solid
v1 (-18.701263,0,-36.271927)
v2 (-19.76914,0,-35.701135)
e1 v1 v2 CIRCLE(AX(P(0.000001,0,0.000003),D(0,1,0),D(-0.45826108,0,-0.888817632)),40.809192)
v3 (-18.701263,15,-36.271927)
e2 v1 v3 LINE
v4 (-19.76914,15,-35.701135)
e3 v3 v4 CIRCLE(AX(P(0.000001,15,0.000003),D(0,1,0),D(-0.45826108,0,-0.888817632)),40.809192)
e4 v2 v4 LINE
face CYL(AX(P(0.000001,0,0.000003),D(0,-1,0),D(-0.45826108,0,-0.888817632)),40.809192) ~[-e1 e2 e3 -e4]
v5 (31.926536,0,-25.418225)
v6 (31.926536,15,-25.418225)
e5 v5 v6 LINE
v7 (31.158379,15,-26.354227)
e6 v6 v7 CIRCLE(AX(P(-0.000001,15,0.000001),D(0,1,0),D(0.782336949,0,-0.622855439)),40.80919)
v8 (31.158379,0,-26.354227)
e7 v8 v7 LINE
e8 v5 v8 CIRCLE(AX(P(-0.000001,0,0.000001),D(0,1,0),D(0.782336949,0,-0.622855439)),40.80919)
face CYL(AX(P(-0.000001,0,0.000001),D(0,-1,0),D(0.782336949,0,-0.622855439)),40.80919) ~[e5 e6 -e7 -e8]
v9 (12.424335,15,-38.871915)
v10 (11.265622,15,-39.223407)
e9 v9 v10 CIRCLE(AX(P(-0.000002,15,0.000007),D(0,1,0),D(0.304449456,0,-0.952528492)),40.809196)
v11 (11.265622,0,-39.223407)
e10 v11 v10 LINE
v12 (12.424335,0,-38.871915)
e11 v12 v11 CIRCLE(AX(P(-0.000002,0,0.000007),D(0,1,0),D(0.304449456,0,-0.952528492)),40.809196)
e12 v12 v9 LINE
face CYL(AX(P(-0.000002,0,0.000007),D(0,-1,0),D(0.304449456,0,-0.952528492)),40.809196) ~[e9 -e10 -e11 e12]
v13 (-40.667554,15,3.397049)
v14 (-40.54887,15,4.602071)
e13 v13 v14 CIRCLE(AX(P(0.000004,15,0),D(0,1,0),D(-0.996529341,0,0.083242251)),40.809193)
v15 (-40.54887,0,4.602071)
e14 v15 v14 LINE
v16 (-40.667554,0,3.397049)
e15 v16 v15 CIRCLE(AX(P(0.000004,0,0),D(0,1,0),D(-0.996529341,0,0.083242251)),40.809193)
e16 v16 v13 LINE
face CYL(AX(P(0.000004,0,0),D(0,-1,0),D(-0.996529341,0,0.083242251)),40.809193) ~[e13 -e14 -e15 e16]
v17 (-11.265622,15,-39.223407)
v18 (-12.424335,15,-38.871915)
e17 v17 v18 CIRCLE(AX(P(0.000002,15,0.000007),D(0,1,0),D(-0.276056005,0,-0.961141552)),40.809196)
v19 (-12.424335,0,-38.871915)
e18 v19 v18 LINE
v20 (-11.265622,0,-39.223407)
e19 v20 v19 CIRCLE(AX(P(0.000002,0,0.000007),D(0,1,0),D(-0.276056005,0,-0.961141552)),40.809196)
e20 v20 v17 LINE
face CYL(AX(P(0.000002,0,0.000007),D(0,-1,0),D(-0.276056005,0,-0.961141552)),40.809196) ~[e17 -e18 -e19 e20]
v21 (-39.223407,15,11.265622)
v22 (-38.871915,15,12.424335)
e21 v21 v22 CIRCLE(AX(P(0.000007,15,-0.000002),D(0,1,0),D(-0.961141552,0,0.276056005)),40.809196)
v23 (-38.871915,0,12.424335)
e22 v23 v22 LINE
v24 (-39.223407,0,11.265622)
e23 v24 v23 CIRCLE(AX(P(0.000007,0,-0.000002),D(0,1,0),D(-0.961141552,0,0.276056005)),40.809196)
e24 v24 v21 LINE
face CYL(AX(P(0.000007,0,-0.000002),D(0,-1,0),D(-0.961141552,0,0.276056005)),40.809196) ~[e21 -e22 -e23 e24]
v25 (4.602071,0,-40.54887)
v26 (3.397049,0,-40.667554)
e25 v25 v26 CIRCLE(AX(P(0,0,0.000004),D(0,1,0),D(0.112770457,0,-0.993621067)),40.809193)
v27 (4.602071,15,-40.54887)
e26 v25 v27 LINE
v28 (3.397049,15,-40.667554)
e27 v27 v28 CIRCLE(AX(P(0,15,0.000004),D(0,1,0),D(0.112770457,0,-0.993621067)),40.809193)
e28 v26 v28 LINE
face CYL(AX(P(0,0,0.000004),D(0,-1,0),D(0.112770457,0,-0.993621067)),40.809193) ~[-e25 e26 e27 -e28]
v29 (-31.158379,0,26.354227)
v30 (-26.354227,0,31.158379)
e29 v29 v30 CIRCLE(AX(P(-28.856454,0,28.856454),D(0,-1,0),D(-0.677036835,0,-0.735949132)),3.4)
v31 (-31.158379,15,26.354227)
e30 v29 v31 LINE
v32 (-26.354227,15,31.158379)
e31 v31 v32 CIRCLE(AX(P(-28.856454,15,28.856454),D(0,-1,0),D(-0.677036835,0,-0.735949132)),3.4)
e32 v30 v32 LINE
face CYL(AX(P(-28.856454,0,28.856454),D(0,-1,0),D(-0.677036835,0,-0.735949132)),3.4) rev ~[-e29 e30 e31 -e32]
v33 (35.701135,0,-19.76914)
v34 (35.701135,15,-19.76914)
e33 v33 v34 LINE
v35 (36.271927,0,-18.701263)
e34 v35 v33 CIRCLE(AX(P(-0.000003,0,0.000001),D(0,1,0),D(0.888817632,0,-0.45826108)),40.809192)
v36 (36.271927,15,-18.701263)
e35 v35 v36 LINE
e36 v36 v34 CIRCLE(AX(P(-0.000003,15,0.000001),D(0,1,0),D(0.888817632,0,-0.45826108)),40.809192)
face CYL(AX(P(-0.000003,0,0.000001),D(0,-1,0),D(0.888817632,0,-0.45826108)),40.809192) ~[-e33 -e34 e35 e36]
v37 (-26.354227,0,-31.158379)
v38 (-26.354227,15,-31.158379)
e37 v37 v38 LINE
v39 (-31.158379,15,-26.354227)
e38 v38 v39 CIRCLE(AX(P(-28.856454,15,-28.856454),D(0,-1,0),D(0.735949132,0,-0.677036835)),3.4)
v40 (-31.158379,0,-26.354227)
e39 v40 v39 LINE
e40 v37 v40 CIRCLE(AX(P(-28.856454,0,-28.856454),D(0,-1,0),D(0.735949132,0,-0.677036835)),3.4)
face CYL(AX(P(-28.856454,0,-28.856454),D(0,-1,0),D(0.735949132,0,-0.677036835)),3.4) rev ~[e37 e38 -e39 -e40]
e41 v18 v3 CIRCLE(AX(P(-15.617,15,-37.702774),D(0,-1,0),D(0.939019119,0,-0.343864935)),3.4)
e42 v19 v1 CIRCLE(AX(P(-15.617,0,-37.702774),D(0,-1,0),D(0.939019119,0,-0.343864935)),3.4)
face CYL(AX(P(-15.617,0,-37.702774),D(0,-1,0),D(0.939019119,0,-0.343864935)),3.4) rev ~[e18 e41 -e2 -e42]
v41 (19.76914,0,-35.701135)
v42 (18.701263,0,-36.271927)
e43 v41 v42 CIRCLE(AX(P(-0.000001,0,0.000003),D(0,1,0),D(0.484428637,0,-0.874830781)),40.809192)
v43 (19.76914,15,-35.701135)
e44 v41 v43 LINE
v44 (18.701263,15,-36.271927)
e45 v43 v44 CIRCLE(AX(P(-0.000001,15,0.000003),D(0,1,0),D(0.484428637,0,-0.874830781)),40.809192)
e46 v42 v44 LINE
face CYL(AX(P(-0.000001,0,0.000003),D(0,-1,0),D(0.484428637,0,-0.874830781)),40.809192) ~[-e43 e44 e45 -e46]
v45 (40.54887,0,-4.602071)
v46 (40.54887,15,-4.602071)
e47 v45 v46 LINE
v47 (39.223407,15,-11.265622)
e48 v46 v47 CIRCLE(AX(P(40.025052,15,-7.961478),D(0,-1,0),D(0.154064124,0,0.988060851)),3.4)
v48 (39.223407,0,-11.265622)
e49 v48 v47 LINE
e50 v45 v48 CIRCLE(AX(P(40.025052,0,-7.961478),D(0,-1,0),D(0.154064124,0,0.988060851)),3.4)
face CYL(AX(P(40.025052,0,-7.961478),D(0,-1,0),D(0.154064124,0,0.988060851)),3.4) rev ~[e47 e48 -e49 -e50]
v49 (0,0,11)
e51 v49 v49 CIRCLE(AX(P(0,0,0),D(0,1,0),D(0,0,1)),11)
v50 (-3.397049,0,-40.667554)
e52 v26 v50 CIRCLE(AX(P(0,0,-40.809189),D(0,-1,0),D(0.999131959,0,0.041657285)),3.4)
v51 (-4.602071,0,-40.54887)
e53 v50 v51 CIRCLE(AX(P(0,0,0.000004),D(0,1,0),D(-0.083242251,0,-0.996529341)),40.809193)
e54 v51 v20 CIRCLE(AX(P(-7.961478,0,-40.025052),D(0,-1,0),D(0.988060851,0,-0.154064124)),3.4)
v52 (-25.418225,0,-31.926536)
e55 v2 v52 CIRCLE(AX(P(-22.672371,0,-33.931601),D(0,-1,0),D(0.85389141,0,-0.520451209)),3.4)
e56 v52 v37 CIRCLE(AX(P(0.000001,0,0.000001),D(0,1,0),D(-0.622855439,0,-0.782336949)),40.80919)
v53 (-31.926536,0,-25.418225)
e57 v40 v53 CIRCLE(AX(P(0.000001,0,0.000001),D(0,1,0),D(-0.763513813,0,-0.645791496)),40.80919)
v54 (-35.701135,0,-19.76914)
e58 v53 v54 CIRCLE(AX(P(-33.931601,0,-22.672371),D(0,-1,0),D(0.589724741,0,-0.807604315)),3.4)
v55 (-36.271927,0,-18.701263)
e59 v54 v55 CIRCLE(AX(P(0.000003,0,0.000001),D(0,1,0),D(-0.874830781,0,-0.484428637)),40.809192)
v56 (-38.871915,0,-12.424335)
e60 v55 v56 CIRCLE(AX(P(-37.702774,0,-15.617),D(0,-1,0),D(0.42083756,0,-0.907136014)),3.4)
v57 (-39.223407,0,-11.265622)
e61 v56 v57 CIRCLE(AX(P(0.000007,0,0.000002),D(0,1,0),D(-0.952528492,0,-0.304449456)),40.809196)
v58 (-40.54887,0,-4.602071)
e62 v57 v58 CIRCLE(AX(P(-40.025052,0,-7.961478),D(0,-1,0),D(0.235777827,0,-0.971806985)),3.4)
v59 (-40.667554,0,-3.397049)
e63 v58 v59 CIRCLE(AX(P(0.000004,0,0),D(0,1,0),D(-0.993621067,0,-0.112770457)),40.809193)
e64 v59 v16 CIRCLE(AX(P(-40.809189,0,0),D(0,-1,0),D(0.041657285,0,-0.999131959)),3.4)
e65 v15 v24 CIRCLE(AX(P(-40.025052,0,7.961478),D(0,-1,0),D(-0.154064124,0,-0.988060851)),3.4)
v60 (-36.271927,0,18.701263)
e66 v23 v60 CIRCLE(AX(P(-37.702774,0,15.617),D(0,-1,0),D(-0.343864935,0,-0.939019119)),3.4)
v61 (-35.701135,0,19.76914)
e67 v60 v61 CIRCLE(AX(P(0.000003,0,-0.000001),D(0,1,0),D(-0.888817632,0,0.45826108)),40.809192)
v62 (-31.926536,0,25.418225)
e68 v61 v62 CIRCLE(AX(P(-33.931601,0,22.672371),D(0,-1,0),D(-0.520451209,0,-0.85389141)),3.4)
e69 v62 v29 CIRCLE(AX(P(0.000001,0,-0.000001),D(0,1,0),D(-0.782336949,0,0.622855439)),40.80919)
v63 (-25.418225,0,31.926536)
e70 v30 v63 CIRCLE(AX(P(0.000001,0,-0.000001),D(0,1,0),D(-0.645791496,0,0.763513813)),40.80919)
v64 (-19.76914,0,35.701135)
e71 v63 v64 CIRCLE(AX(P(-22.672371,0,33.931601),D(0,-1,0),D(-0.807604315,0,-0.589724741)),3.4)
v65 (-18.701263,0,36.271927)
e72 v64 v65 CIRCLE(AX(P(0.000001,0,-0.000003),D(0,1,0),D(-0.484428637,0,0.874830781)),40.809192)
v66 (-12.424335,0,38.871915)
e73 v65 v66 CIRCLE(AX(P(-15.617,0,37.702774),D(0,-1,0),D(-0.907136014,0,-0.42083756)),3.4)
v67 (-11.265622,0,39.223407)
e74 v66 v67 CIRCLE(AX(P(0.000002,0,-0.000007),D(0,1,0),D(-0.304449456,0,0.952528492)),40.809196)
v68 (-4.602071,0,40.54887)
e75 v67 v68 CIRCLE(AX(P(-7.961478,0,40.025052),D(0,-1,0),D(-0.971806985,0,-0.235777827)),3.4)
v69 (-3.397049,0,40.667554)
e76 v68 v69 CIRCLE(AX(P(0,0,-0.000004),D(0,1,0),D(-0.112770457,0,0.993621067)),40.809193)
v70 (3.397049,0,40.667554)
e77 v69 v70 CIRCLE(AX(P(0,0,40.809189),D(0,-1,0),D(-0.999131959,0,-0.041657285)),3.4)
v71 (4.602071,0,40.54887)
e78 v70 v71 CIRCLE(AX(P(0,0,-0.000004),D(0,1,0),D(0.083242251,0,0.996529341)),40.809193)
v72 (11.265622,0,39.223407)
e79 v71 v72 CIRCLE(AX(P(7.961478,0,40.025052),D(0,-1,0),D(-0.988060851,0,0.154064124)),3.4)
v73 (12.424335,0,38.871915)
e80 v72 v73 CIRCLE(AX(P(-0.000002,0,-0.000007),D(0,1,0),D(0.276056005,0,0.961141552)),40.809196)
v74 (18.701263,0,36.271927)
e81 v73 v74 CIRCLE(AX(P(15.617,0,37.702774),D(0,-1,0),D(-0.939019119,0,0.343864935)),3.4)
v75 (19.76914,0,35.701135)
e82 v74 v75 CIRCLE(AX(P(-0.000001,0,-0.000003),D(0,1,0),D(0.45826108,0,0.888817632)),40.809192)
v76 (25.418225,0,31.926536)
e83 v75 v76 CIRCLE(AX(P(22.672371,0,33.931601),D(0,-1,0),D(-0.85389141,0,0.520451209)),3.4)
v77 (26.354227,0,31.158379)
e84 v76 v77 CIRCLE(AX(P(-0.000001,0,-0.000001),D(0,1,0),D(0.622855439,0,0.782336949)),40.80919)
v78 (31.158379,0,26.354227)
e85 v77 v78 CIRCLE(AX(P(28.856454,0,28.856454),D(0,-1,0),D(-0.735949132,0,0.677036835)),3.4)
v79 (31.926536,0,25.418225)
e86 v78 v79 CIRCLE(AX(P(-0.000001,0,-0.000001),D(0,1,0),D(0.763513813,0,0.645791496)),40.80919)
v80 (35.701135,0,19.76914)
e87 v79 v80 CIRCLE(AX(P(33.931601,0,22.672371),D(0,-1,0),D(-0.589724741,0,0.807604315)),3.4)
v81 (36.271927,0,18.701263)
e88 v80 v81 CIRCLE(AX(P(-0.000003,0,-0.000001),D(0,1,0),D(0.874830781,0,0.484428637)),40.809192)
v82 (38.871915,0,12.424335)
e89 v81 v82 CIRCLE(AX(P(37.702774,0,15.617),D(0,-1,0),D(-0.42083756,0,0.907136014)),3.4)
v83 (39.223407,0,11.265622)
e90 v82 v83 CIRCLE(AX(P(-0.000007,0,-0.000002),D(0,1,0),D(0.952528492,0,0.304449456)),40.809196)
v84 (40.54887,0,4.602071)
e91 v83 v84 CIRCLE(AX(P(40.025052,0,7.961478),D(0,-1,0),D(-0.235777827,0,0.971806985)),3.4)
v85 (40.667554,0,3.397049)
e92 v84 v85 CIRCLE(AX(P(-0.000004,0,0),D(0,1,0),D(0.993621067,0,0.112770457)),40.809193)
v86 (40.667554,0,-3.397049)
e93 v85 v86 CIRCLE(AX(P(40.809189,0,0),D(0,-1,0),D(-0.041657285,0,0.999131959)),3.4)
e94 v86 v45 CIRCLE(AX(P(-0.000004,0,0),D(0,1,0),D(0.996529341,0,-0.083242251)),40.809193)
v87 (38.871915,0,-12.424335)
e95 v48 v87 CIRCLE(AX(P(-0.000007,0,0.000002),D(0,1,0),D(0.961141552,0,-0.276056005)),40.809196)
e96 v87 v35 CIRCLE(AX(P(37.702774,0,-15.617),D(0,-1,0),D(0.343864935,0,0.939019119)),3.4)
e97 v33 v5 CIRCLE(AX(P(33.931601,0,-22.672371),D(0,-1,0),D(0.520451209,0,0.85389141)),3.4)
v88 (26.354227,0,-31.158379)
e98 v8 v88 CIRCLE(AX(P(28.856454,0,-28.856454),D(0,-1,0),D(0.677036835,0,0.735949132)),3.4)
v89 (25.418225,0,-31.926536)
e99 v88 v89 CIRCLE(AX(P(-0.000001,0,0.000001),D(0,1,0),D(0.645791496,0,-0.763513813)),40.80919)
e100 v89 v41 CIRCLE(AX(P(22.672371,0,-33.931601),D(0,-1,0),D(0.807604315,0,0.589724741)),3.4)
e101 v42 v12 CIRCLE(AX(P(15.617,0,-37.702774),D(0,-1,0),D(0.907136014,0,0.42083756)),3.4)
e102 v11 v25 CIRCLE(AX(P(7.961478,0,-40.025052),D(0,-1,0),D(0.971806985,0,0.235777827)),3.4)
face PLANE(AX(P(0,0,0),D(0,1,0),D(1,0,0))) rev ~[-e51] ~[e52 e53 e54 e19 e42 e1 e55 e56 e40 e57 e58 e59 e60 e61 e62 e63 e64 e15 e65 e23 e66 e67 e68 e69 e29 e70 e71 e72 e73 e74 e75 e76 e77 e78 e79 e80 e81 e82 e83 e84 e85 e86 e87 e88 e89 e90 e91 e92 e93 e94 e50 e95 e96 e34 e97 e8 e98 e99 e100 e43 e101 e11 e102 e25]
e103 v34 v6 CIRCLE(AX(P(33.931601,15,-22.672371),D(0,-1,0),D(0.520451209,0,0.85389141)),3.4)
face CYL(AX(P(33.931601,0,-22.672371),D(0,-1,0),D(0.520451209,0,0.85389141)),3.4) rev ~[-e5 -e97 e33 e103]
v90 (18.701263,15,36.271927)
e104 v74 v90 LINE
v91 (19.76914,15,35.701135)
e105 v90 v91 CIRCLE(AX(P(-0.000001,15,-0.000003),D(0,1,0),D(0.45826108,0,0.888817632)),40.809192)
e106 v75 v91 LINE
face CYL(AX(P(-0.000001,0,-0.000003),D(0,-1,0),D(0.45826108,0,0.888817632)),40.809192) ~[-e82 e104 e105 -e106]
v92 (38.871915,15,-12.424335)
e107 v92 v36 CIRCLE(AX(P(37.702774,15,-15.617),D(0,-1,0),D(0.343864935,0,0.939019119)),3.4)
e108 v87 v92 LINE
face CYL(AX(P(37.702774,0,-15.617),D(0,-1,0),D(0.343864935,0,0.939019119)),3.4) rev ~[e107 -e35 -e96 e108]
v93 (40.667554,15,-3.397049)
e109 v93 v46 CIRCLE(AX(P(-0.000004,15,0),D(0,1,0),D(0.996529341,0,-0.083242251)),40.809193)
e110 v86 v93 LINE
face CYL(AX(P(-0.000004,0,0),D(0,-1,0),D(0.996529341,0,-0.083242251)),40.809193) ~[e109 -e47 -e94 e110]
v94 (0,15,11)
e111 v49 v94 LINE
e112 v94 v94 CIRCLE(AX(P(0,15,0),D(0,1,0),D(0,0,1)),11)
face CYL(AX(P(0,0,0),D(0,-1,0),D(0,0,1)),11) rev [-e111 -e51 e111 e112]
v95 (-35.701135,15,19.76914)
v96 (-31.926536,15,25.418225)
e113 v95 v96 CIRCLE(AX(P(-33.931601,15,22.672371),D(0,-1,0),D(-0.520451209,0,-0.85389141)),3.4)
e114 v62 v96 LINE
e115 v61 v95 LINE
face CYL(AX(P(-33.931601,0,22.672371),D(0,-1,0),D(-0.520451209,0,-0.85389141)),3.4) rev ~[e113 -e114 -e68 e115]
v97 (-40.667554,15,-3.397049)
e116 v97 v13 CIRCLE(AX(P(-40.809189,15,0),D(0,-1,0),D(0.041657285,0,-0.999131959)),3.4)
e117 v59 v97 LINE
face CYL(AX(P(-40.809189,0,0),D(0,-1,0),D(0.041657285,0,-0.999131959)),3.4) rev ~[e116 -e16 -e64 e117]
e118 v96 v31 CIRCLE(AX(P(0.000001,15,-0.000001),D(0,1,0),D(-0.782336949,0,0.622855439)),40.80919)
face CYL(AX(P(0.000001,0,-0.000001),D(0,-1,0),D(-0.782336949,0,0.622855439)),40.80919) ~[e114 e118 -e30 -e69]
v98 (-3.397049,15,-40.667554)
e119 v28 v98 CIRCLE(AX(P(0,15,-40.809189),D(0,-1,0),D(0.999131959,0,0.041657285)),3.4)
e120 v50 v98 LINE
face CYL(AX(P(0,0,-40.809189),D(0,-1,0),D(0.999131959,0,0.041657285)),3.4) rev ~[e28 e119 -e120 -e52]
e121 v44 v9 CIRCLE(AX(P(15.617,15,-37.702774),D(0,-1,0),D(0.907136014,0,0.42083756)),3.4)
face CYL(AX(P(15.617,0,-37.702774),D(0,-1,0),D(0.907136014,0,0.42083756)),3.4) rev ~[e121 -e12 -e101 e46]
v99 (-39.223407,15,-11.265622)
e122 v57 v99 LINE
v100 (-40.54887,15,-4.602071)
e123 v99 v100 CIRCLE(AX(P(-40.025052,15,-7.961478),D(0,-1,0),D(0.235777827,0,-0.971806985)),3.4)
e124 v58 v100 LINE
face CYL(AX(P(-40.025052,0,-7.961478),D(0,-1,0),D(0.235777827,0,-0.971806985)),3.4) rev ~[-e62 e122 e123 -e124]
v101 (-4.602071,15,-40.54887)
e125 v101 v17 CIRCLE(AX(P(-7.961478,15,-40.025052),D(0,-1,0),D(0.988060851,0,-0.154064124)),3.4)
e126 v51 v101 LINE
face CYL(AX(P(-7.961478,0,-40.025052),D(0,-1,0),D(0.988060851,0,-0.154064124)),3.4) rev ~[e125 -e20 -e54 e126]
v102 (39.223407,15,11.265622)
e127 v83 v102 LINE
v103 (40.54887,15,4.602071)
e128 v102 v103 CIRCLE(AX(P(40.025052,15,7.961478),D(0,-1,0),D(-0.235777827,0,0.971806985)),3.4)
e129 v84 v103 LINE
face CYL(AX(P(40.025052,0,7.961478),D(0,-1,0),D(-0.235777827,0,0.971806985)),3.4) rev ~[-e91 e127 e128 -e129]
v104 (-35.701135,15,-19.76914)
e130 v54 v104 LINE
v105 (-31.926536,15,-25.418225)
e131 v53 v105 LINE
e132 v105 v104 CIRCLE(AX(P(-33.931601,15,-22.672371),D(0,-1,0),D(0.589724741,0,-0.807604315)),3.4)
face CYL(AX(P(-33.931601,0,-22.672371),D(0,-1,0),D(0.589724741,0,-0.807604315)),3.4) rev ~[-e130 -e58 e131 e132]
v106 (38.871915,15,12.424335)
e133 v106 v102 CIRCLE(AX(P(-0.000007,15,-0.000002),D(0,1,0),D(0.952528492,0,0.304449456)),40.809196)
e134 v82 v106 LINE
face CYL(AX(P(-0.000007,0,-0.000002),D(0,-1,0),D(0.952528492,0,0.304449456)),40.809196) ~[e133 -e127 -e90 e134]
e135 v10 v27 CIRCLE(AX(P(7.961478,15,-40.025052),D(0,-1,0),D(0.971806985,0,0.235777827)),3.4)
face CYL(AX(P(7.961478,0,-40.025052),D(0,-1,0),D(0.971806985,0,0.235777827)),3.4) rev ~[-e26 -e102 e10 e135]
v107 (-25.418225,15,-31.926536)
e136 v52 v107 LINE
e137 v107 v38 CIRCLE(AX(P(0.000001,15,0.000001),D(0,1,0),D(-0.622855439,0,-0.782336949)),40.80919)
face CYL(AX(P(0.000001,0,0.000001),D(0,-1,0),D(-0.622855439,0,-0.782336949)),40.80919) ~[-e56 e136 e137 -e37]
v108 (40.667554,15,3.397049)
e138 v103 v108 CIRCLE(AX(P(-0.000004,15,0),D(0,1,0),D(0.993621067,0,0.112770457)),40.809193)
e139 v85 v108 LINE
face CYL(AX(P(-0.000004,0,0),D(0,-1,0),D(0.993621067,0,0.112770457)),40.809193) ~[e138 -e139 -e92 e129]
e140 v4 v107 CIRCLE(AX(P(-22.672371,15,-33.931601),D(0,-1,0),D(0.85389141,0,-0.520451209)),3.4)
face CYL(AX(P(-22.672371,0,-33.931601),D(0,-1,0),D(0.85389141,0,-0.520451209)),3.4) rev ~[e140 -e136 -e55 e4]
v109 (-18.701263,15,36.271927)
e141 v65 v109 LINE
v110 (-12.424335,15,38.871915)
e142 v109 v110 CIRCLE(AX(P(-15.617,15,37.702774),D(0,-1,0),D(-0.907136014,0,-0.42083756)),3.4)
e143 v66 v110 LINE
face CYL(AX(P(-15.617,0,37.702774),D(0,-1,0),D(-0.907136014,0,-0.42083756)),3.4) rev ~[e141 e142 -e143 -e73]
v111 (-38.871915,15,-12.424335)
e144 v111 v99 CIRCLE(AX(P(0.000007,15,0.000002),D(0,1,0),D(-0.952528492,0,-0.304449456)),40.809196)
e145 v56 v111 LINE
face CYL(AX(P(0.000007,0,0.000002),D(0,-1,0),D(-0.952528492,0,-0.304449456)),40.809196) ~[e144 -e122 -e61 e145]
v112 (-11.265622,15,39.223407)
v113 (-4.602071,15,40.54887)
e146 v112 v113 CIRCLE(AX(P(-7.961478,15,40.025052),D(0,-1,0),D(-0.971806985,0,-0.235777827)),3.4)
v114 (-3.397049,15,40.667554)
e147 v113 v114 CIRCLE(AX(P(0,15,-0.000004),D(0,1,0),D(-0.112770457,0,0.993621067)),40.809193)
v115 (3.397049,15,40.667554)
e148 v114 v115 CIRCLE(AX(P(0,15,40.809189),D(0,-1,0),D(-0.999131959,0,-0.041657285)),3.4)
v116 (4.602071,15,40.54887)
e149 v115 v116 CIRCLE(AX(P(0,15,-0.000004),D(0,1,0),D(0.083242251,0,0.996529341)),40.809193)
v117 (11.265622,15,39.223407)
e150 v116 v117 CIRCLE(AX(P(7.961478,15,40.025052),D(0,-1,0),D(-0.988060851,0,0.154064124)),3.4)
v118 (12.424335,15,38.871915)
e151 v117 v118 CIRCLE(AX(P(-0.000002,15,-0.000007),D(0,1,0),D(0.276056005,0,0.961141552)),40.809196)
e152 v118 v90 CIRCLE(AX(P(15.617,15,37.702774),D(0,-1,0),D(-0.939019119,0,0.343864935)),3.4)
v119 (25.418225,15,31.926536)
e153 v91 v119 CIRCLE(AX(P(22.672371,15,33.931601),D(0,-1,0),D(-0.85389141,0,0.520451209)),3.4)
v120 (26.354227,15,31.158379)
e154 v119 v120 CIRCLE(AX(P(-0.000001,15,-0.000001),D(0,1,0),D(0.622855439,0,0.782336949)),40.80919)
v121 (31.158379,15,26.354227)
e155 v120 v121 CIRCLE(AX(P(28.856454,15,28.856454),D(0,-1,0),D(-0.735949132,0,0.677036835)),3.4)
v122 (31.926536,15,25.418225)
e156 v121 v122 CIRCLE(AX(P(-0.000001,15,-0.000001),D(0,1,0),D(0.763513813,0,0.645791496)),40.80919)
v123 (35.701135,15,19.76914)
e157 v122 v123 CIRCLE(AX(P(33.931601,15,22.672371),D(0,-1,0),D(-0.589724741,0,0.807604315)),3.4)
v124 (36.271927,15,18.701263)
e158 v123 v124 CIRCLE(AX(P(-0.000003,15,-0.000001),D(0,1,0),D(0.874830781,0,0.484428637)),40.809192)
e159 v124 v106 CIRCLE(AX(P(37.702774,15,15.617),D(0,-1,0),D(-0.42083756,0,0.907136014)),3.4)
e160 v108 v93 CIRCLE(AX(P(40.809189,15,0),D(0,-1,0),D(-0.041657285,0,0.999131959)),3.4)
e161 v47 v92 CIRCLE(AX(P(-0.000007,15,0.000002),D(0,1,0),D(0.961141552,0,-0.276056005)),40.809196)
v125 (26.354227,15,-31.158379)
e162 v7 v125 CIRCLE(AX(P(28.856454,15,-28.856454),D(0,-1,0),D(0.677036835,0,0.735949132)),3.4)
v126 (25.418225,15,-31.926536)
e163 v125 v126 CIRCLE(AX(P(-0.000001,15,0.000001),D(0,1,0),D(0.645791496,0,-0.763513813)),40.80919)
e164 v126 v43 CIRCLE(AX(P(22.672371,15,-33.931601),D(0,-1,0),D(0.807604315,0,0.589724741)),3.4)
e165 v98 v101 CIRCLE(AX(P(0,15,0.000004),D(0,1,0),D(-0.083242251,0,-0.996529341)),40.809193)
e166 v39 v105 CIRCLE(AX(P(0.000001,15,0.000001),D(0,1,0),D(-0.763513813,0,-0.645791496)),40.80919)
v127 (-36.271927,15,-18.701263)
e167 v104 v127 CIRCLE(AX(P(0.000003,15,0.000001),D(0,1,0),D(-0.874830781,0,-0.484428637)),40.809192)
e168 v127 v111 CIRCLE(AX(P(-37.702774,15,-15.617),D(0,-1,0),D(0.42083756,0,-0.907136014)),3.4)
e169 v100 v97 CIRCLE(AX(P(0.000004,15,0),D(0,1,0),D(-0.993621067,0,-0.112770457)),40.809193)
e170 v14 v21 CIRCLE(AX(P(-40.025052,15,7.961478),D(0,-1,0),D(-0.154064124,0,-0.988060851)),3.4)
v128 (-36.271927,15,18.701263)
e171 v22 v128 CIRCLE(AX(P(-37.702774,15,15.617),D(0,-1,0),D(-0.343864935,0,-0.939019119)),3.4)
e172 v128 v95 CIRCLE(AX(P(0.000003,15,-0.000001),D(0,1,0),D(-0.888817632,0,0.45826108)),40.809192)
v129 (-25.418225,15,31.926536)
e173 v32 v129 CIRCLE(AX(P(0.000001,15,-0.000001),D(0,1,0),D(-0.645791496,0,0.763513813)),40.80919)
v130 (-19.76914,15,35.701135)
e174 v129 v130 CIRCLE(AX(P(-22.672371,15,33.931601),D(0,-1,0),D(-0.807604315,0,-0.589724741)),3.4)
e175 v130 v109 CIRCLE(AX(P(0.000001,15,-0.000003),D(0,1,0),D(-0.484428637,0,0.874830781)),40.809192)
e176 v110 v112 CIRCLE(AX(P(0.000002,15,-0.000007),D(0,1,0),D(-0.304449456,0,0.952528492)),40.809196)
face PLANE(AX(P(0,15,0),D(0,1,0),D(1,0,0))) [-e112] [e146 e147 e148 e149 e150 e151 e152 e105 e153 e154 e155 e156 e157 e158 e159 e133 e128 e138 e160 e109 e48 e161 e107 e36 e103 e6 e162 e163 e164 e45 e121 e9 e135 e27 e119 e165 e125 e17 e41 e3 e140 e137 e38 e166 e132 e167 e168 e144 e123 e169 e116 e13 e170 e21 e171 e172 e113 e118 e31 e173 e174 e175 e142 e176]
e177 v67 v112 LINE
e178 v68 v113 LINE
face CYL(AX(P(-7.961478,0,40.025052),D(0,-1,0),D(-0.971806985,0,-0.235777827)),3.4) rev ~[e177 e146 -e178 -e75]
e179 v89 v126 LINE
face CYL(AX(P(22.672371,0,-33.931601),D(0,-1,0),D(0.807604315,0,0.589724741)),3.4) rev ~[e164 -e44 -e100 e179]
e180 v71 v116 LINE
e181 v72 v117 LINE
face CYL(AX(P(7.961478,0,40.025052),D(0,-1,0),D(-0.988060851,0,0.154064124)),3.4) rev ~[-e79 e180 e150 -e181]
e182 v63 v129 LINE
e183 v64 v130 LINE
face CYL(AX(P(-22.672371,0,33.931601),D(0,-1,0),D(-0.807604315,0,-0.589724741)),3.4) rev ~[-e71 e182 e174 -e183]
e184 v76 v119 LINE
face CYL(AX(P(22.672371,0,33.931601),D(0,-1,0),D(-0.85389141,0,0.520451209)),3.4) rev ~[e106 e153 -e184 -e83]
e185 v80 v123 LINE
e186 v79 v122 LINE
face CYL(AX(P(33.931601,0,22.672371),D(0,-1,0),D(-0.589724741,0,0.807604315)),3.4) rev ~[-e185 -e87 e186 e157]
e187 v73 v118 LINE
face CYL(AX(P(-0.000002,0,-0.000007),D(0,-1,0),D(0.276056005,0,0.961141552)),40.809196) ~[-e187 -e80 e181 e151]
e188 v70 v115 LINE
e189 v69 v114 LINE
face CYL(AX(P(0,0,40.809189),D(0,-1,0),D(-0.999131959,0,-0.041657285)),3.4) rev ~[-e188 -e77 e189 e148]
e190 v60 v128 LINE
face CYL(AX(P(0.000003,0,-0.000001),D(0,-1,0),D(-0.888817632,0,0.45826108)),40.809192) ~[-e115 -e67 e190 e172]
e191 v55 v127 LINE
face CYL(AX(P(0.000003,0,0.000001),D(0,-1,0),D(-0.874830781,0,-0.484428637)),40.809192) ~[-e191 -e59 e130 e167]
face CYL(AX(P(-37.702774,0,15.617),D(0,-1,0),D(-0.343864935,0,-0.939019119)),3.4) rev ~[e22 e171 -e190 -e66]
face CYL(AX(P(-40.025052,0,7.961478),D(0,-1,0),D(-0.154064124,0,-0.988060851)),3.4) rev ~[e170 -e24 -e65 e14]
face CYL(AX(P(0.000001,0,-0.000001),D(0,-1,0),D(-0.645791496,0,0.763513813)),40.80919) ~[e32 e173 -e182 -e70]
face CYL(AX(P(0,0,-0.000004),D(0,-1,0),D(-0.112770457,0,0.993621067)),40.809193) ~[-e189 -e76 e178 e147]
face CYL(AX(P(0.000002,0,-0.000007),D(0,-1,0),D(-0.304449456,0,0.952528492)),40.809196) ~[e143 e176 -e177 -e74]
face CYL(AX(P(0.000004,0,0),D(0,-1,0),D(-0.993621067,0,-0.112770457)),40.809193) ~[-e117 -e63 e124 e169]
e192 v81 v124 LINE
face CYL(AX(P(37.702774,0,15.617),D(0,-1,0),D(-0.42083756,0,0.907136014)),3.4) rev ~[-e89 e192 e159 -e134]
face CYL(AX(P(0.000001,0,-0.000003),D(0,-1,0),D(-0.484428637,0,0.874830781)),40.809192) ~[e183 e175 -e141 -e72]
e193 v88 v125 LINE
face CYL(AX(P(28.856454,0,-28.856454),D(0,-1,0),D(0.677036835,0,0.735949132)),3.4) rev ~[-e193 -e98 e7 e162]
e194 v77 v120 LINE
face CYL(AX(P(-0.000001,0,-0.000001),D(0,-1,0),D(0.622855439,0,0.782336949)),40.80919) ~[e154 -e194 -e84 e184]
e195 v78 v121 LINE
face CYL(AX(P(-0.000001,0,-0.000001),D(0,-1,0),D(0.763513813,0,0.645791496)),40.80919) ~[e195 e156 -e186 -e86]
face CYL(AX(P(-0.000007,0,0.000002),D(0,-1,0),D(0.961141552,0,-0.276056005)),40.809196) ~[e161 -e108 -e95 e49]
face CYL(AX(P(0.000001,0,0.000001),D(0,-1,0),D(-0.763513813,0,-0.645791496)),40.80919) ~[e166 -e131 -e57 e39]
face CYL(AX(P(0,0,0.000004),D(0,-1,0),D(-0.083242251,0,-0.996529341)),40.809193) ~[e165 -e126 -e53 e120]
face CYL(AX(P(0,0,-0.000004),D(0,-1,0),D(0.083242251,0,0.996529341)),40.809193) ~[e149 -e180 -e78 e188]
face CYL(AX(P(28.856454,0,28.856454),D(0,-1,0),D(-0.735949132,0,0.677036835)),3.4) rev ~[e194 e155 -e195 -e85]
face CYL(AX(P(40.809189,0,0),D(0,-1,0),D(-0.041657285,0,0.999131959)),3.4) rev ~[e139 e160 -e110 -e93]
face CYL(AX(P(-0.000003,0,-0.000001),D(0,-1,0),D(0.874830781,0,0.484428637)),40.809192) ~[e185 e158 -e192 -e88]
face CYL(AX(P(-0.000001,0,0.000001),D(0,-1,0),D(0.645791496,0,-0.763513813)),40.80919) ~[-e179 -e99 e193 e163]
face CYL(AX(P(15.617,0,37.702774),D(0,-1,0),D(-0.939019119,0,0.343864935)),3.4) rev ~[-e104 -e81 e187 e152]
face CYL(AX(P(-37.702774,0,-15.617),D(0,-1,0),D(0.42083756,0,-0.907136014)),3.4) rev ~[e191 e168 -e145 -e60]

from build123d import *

# Parameters (mm, degrees)
SKETCH1_R           = 11
BOSS_EXTRUDE1_DEPTH = 15


with BuildPart() as part:
    # Sketch1 → Boss-Extrude1 (new body)
    with BuildSketch(Plane(origin=(0, 0, 0), x_dir=(1, 0, 0), z_dir=(0, 1, 0))):
        with BuildLine():
            ThreePointArc((40.667554182, -3.397048659), (37.40918895, 0), (40.667554182, 3.397048659))
            ThreePointArc((40.667554182, 3.397048659), (40.61268155, 4), (40.548869848, 4.602070919))
            ThreePointArc((40.548869848, 4.602070919), (36.690381874, 7.298170719), (39.223407215, 11.265621563))
            ThreePointArc((39.223407215, 11.265621563), (39.051958974, 11.846282243), (38.871915187, 12.424335493))
            ThreePointArc((38.871915187, 12.424335493), (34.561583998, 14.315876829), (36.271926705, 18.701262947))
            ThreePointArc((36.271926705, 18.701262947), (35.990491515, 19.237318503), (35.701134624, 19.769139821))
            ThreePointArc((35.701134624, 19.769139821), (31.104603832, 20.783431822), (31.926536394, 25.418225285))
            ThreePointArc((31.926536394, 25.418225285), (31.545929651, 25.889075402), (31.158379479, 26.354227193))
            ThreePointArc((31.158379479, 26.354227193), (26.452291185, 26.452291185), (26.354227193, 31.158379479))
            ThreePointArc((26.354227193, 31.158379479), (25.889075402, 31.545929651), (25.418225285, 31.926536394))
            ThreePointArc((25.418225285, 31.926536394), (20.783431822, 31.104603832), (19.769139821, 35.701134624))
            ThreePointArc((19.769139821, 35.701134624), (19.237318503, 35.990491515), (18.701262947, 36.271926705))
            ThreePointArc((18.701262947, 36.271926705), (14.315876829, 34.561583998), (12.424335493, 38.871915187))
            ThreePointArc((12.424335493, 38.871915187), (11.846282243, 39.051958974), (11.265621563, 39.223407215))
            ThreePointArc((11.265621563, 39.223407215), (7.298170719, 36.690381874), (4.602070919, 40.548869848))
            ThreePointArc((4.602070919, 40.548869848), (4, 40.61268155), (3.397048659, 40.667554182))
            ThreePointArc((3.397048659, 40.667554182), (0, 37.40918895), (-3.397048659, 40.667554182))
            ThreePointArc((-3.397048659, 40.667554182), (-4, 40.61268155), (-4.602070919, 40.548869848))
            ThreePointArc((-4.602070919, 40.548869848), (-7.298170719, 36.690381874), (-11.265621563, 39.223407215))
            ThreePointArc((-11.265621563, 39.223407215), (-11.846282243, 39.051958974), (-12.424335493, 38.871915187))
            ThreePointArc((-12.424335493, 38.871915187), (-14.315876829, 34.561583998), (-18.701262947, 36.271926705))
            ThreePointArc((-18.701262947, 36.271926705), (-19.237318503, 35.990491515), (-19.769139821, 35.701134624))
            ThreePointArc((-19.769139821, 35.701134624), (-20.783431822, 31.104603832), (-25.418225285, 31.926536394))
            ThreePointArc((-25.418225285, 31.926536394), (-25.889075402, 31.545929651), (-26.354227193, 31.158379479))
            ThreePointArc((-26.354227193, 31.158379479), (-26.452291185, 26.452291185), (-31.158379479, 26.354227193))
            ThreePointArc((-31.158379479, 26.354227193), (-31.545929651, 25.889075402), (-31.926536394, 25.418225285))
            ThreePointArc((-31.926536394, 25.418225285), (-31.104603832, 20.783431822), (-35.701134624, 19.769139821))
            ThreePointArc((-35.701134624, 19.769139821), (-35.990491515, 19.237318503), (-36.271926705, 18.701262947))
            ThreePointArc((-36.271926705, 18.701262947), (-34.561583998, 14.315876829), (-38.871915187, 12.424335493))
            ThreePointArc((-38.871915187, 12.424335493), (-39.051958974, 11.846282243), (-39.223407215, 11.265621563))
            ThreePointArc((-39.223407215, 11.265621563), (-36.690381874, 7.298170719), (-40.548869848, 4.602070919))
            ThreePointArc((-40.548869848, 4.602070919), (-40.61268155, 4), (-40.667554182, 3.397048659))
            ThreePointArc((-40.667554182, 3.397048659), (-37.40918895, 0), (-40.667554182, -3.397048659))
            ThreePointArc((-40.667554182, -3.397048659), (-40.61268155, -4), (-40.548869848, -4.602070919))
            ThreePointArc((-40.548869848, -4.602070919), (-36.690381874, -7.298170719), (-39.223407215, -11.265621563))
            ThreePointArc((-39.223407215, -11.265621563), (-39.051958974, -11.846282243), (-38.871915187, -12.424335493))
            ThreePointArc((-38.871915187, -12.424335493), (-34.561583998, -14.315876829), (-36.271926705, -18.701262947))
            ThreePointArc((-36.271926705, -18.701262947), (-35.990491515, -19.237318503), (-35.701134624, -19.769139821))
            ThreePointArc((-35.701134624, -19.769139821), (-31.104603832, -20.783431822), (-31.926536394, -25.418225285))
            ThreePointArc((-31.926536394, -25.418225285), (-31.545929651, -25.889075402), (-31.158379479, -26.354227193))
            ThreePointArc((-31.158379479, -26.354227193), (-26.452291185, -26.452291185), (-26.354227193, -31.158379479))
            ThreePointArc((-26.354227193, -31.158379479), (-25.889075402, -31.545929651), (-25.418225285, -31.926536394))
            ThreePointArc((-25.418225285, -31.926536394), (-20.783431822, -31.104603832), (-19.769139821, -35.701134624))
            ThreePointArc((-19.769139821, -35.701134624), (-19.237318503, -35.990491515), (-18.701262947, -36.271926705))
            ThreePointArc((-18.701262947, -36.271926705), (-14.315876829, -34.561583998), (-12.424335493, -38.871915187))
            ThreePointArc((-12.424335493, -38.871915187), (-11.846282243, -39.051958974), (-11.265621563, -39.223407215))
            ThreePointArc((-11.265621563, -39.223407215), (-7.298170719, -36.690381874), (-4.602070919, -40.548869848))
            ThreePointArc((-4.602070919, -40.548869848), (-4, -40.61268155), (-3.397048659, -40.667554182))
            ThreePointArc((-3.397048659, -40.667554182), (0, -37.40918895), (3.397048659, -40.667554182))
            ThreePointArc((3.397048659, -40.667554182), (4, -40.61268155), (4.602070919, -40.548869848))
            ThreePointArc((4.602070919, -40.548869848), (7.298170719, -36.690381874), (11.265621563, -39.223407215))
            ThreePointArc((11.265621563, -39.223407215), (11.846282243, -39.051958974), (12.424335493, -38.871915187))
            ThreePointArc((12.424335493, -38.871915187), (14.315876829, -34.561583998), (18.701262947, -36.271926705))
            ThreePointArc((18.701262947, -36.271926705), (19.237318503, -35.990491515), (19.769139821, -35.701134624))
            ThreePointArc((19.769139821, -35.701134624), (20.783431822, -31.104603832), (25.418225285, -31.926536394))
            ThreePointArc((25.418225285, -31.926536394), (25.889075402, -31.545929651), (26.354227193, -31.158379479))
            ThreePointArc((26.354227193, -31.158379479), (26.452291185, -26.452291185), (31.158379479, -26.354227193))
            ThreePointArc((31.158379479, -26.354227193), (31.545929651, -25.889075402), (31.926536394, -25.418225285))
            ThreePointArc((31.926536394, -25.418225285), (31.104603832, -20.783431822), (35.701134624, -19.769139821))
            ThreePointArc((35.701134624, -19.769139821), (35.990491515, -19.237318503), (36.271926705, -18.701262947))
            ThreePointArc((36.271926705, -18.701262947), (34.561583998, -14.315876829), (38.871915187, -12.424335493))
            ThreePointArc((38.871915187, -12.424335493), (39.051958974, -11.846282243), (39.223407215, -11.265621563))
            ThreePointArc((39.223407215, -11.265621563), (36.690381874, -7.298170719), (40.548869848, -4.602070919))
            ThreePointArc((40.548869848, -4.602070919), (40.61268155, -4), (40.667554182, -3.397048659))
        make_face()
        with Locations(Location((0, 0, 0), (0, 0, 270))):
            Circle(SKETCH1_R, mode=Mode.SUBTRACT)
    extrude(amount=BOSS_EXTRUDE1_DEPTH)


solid = part.part
